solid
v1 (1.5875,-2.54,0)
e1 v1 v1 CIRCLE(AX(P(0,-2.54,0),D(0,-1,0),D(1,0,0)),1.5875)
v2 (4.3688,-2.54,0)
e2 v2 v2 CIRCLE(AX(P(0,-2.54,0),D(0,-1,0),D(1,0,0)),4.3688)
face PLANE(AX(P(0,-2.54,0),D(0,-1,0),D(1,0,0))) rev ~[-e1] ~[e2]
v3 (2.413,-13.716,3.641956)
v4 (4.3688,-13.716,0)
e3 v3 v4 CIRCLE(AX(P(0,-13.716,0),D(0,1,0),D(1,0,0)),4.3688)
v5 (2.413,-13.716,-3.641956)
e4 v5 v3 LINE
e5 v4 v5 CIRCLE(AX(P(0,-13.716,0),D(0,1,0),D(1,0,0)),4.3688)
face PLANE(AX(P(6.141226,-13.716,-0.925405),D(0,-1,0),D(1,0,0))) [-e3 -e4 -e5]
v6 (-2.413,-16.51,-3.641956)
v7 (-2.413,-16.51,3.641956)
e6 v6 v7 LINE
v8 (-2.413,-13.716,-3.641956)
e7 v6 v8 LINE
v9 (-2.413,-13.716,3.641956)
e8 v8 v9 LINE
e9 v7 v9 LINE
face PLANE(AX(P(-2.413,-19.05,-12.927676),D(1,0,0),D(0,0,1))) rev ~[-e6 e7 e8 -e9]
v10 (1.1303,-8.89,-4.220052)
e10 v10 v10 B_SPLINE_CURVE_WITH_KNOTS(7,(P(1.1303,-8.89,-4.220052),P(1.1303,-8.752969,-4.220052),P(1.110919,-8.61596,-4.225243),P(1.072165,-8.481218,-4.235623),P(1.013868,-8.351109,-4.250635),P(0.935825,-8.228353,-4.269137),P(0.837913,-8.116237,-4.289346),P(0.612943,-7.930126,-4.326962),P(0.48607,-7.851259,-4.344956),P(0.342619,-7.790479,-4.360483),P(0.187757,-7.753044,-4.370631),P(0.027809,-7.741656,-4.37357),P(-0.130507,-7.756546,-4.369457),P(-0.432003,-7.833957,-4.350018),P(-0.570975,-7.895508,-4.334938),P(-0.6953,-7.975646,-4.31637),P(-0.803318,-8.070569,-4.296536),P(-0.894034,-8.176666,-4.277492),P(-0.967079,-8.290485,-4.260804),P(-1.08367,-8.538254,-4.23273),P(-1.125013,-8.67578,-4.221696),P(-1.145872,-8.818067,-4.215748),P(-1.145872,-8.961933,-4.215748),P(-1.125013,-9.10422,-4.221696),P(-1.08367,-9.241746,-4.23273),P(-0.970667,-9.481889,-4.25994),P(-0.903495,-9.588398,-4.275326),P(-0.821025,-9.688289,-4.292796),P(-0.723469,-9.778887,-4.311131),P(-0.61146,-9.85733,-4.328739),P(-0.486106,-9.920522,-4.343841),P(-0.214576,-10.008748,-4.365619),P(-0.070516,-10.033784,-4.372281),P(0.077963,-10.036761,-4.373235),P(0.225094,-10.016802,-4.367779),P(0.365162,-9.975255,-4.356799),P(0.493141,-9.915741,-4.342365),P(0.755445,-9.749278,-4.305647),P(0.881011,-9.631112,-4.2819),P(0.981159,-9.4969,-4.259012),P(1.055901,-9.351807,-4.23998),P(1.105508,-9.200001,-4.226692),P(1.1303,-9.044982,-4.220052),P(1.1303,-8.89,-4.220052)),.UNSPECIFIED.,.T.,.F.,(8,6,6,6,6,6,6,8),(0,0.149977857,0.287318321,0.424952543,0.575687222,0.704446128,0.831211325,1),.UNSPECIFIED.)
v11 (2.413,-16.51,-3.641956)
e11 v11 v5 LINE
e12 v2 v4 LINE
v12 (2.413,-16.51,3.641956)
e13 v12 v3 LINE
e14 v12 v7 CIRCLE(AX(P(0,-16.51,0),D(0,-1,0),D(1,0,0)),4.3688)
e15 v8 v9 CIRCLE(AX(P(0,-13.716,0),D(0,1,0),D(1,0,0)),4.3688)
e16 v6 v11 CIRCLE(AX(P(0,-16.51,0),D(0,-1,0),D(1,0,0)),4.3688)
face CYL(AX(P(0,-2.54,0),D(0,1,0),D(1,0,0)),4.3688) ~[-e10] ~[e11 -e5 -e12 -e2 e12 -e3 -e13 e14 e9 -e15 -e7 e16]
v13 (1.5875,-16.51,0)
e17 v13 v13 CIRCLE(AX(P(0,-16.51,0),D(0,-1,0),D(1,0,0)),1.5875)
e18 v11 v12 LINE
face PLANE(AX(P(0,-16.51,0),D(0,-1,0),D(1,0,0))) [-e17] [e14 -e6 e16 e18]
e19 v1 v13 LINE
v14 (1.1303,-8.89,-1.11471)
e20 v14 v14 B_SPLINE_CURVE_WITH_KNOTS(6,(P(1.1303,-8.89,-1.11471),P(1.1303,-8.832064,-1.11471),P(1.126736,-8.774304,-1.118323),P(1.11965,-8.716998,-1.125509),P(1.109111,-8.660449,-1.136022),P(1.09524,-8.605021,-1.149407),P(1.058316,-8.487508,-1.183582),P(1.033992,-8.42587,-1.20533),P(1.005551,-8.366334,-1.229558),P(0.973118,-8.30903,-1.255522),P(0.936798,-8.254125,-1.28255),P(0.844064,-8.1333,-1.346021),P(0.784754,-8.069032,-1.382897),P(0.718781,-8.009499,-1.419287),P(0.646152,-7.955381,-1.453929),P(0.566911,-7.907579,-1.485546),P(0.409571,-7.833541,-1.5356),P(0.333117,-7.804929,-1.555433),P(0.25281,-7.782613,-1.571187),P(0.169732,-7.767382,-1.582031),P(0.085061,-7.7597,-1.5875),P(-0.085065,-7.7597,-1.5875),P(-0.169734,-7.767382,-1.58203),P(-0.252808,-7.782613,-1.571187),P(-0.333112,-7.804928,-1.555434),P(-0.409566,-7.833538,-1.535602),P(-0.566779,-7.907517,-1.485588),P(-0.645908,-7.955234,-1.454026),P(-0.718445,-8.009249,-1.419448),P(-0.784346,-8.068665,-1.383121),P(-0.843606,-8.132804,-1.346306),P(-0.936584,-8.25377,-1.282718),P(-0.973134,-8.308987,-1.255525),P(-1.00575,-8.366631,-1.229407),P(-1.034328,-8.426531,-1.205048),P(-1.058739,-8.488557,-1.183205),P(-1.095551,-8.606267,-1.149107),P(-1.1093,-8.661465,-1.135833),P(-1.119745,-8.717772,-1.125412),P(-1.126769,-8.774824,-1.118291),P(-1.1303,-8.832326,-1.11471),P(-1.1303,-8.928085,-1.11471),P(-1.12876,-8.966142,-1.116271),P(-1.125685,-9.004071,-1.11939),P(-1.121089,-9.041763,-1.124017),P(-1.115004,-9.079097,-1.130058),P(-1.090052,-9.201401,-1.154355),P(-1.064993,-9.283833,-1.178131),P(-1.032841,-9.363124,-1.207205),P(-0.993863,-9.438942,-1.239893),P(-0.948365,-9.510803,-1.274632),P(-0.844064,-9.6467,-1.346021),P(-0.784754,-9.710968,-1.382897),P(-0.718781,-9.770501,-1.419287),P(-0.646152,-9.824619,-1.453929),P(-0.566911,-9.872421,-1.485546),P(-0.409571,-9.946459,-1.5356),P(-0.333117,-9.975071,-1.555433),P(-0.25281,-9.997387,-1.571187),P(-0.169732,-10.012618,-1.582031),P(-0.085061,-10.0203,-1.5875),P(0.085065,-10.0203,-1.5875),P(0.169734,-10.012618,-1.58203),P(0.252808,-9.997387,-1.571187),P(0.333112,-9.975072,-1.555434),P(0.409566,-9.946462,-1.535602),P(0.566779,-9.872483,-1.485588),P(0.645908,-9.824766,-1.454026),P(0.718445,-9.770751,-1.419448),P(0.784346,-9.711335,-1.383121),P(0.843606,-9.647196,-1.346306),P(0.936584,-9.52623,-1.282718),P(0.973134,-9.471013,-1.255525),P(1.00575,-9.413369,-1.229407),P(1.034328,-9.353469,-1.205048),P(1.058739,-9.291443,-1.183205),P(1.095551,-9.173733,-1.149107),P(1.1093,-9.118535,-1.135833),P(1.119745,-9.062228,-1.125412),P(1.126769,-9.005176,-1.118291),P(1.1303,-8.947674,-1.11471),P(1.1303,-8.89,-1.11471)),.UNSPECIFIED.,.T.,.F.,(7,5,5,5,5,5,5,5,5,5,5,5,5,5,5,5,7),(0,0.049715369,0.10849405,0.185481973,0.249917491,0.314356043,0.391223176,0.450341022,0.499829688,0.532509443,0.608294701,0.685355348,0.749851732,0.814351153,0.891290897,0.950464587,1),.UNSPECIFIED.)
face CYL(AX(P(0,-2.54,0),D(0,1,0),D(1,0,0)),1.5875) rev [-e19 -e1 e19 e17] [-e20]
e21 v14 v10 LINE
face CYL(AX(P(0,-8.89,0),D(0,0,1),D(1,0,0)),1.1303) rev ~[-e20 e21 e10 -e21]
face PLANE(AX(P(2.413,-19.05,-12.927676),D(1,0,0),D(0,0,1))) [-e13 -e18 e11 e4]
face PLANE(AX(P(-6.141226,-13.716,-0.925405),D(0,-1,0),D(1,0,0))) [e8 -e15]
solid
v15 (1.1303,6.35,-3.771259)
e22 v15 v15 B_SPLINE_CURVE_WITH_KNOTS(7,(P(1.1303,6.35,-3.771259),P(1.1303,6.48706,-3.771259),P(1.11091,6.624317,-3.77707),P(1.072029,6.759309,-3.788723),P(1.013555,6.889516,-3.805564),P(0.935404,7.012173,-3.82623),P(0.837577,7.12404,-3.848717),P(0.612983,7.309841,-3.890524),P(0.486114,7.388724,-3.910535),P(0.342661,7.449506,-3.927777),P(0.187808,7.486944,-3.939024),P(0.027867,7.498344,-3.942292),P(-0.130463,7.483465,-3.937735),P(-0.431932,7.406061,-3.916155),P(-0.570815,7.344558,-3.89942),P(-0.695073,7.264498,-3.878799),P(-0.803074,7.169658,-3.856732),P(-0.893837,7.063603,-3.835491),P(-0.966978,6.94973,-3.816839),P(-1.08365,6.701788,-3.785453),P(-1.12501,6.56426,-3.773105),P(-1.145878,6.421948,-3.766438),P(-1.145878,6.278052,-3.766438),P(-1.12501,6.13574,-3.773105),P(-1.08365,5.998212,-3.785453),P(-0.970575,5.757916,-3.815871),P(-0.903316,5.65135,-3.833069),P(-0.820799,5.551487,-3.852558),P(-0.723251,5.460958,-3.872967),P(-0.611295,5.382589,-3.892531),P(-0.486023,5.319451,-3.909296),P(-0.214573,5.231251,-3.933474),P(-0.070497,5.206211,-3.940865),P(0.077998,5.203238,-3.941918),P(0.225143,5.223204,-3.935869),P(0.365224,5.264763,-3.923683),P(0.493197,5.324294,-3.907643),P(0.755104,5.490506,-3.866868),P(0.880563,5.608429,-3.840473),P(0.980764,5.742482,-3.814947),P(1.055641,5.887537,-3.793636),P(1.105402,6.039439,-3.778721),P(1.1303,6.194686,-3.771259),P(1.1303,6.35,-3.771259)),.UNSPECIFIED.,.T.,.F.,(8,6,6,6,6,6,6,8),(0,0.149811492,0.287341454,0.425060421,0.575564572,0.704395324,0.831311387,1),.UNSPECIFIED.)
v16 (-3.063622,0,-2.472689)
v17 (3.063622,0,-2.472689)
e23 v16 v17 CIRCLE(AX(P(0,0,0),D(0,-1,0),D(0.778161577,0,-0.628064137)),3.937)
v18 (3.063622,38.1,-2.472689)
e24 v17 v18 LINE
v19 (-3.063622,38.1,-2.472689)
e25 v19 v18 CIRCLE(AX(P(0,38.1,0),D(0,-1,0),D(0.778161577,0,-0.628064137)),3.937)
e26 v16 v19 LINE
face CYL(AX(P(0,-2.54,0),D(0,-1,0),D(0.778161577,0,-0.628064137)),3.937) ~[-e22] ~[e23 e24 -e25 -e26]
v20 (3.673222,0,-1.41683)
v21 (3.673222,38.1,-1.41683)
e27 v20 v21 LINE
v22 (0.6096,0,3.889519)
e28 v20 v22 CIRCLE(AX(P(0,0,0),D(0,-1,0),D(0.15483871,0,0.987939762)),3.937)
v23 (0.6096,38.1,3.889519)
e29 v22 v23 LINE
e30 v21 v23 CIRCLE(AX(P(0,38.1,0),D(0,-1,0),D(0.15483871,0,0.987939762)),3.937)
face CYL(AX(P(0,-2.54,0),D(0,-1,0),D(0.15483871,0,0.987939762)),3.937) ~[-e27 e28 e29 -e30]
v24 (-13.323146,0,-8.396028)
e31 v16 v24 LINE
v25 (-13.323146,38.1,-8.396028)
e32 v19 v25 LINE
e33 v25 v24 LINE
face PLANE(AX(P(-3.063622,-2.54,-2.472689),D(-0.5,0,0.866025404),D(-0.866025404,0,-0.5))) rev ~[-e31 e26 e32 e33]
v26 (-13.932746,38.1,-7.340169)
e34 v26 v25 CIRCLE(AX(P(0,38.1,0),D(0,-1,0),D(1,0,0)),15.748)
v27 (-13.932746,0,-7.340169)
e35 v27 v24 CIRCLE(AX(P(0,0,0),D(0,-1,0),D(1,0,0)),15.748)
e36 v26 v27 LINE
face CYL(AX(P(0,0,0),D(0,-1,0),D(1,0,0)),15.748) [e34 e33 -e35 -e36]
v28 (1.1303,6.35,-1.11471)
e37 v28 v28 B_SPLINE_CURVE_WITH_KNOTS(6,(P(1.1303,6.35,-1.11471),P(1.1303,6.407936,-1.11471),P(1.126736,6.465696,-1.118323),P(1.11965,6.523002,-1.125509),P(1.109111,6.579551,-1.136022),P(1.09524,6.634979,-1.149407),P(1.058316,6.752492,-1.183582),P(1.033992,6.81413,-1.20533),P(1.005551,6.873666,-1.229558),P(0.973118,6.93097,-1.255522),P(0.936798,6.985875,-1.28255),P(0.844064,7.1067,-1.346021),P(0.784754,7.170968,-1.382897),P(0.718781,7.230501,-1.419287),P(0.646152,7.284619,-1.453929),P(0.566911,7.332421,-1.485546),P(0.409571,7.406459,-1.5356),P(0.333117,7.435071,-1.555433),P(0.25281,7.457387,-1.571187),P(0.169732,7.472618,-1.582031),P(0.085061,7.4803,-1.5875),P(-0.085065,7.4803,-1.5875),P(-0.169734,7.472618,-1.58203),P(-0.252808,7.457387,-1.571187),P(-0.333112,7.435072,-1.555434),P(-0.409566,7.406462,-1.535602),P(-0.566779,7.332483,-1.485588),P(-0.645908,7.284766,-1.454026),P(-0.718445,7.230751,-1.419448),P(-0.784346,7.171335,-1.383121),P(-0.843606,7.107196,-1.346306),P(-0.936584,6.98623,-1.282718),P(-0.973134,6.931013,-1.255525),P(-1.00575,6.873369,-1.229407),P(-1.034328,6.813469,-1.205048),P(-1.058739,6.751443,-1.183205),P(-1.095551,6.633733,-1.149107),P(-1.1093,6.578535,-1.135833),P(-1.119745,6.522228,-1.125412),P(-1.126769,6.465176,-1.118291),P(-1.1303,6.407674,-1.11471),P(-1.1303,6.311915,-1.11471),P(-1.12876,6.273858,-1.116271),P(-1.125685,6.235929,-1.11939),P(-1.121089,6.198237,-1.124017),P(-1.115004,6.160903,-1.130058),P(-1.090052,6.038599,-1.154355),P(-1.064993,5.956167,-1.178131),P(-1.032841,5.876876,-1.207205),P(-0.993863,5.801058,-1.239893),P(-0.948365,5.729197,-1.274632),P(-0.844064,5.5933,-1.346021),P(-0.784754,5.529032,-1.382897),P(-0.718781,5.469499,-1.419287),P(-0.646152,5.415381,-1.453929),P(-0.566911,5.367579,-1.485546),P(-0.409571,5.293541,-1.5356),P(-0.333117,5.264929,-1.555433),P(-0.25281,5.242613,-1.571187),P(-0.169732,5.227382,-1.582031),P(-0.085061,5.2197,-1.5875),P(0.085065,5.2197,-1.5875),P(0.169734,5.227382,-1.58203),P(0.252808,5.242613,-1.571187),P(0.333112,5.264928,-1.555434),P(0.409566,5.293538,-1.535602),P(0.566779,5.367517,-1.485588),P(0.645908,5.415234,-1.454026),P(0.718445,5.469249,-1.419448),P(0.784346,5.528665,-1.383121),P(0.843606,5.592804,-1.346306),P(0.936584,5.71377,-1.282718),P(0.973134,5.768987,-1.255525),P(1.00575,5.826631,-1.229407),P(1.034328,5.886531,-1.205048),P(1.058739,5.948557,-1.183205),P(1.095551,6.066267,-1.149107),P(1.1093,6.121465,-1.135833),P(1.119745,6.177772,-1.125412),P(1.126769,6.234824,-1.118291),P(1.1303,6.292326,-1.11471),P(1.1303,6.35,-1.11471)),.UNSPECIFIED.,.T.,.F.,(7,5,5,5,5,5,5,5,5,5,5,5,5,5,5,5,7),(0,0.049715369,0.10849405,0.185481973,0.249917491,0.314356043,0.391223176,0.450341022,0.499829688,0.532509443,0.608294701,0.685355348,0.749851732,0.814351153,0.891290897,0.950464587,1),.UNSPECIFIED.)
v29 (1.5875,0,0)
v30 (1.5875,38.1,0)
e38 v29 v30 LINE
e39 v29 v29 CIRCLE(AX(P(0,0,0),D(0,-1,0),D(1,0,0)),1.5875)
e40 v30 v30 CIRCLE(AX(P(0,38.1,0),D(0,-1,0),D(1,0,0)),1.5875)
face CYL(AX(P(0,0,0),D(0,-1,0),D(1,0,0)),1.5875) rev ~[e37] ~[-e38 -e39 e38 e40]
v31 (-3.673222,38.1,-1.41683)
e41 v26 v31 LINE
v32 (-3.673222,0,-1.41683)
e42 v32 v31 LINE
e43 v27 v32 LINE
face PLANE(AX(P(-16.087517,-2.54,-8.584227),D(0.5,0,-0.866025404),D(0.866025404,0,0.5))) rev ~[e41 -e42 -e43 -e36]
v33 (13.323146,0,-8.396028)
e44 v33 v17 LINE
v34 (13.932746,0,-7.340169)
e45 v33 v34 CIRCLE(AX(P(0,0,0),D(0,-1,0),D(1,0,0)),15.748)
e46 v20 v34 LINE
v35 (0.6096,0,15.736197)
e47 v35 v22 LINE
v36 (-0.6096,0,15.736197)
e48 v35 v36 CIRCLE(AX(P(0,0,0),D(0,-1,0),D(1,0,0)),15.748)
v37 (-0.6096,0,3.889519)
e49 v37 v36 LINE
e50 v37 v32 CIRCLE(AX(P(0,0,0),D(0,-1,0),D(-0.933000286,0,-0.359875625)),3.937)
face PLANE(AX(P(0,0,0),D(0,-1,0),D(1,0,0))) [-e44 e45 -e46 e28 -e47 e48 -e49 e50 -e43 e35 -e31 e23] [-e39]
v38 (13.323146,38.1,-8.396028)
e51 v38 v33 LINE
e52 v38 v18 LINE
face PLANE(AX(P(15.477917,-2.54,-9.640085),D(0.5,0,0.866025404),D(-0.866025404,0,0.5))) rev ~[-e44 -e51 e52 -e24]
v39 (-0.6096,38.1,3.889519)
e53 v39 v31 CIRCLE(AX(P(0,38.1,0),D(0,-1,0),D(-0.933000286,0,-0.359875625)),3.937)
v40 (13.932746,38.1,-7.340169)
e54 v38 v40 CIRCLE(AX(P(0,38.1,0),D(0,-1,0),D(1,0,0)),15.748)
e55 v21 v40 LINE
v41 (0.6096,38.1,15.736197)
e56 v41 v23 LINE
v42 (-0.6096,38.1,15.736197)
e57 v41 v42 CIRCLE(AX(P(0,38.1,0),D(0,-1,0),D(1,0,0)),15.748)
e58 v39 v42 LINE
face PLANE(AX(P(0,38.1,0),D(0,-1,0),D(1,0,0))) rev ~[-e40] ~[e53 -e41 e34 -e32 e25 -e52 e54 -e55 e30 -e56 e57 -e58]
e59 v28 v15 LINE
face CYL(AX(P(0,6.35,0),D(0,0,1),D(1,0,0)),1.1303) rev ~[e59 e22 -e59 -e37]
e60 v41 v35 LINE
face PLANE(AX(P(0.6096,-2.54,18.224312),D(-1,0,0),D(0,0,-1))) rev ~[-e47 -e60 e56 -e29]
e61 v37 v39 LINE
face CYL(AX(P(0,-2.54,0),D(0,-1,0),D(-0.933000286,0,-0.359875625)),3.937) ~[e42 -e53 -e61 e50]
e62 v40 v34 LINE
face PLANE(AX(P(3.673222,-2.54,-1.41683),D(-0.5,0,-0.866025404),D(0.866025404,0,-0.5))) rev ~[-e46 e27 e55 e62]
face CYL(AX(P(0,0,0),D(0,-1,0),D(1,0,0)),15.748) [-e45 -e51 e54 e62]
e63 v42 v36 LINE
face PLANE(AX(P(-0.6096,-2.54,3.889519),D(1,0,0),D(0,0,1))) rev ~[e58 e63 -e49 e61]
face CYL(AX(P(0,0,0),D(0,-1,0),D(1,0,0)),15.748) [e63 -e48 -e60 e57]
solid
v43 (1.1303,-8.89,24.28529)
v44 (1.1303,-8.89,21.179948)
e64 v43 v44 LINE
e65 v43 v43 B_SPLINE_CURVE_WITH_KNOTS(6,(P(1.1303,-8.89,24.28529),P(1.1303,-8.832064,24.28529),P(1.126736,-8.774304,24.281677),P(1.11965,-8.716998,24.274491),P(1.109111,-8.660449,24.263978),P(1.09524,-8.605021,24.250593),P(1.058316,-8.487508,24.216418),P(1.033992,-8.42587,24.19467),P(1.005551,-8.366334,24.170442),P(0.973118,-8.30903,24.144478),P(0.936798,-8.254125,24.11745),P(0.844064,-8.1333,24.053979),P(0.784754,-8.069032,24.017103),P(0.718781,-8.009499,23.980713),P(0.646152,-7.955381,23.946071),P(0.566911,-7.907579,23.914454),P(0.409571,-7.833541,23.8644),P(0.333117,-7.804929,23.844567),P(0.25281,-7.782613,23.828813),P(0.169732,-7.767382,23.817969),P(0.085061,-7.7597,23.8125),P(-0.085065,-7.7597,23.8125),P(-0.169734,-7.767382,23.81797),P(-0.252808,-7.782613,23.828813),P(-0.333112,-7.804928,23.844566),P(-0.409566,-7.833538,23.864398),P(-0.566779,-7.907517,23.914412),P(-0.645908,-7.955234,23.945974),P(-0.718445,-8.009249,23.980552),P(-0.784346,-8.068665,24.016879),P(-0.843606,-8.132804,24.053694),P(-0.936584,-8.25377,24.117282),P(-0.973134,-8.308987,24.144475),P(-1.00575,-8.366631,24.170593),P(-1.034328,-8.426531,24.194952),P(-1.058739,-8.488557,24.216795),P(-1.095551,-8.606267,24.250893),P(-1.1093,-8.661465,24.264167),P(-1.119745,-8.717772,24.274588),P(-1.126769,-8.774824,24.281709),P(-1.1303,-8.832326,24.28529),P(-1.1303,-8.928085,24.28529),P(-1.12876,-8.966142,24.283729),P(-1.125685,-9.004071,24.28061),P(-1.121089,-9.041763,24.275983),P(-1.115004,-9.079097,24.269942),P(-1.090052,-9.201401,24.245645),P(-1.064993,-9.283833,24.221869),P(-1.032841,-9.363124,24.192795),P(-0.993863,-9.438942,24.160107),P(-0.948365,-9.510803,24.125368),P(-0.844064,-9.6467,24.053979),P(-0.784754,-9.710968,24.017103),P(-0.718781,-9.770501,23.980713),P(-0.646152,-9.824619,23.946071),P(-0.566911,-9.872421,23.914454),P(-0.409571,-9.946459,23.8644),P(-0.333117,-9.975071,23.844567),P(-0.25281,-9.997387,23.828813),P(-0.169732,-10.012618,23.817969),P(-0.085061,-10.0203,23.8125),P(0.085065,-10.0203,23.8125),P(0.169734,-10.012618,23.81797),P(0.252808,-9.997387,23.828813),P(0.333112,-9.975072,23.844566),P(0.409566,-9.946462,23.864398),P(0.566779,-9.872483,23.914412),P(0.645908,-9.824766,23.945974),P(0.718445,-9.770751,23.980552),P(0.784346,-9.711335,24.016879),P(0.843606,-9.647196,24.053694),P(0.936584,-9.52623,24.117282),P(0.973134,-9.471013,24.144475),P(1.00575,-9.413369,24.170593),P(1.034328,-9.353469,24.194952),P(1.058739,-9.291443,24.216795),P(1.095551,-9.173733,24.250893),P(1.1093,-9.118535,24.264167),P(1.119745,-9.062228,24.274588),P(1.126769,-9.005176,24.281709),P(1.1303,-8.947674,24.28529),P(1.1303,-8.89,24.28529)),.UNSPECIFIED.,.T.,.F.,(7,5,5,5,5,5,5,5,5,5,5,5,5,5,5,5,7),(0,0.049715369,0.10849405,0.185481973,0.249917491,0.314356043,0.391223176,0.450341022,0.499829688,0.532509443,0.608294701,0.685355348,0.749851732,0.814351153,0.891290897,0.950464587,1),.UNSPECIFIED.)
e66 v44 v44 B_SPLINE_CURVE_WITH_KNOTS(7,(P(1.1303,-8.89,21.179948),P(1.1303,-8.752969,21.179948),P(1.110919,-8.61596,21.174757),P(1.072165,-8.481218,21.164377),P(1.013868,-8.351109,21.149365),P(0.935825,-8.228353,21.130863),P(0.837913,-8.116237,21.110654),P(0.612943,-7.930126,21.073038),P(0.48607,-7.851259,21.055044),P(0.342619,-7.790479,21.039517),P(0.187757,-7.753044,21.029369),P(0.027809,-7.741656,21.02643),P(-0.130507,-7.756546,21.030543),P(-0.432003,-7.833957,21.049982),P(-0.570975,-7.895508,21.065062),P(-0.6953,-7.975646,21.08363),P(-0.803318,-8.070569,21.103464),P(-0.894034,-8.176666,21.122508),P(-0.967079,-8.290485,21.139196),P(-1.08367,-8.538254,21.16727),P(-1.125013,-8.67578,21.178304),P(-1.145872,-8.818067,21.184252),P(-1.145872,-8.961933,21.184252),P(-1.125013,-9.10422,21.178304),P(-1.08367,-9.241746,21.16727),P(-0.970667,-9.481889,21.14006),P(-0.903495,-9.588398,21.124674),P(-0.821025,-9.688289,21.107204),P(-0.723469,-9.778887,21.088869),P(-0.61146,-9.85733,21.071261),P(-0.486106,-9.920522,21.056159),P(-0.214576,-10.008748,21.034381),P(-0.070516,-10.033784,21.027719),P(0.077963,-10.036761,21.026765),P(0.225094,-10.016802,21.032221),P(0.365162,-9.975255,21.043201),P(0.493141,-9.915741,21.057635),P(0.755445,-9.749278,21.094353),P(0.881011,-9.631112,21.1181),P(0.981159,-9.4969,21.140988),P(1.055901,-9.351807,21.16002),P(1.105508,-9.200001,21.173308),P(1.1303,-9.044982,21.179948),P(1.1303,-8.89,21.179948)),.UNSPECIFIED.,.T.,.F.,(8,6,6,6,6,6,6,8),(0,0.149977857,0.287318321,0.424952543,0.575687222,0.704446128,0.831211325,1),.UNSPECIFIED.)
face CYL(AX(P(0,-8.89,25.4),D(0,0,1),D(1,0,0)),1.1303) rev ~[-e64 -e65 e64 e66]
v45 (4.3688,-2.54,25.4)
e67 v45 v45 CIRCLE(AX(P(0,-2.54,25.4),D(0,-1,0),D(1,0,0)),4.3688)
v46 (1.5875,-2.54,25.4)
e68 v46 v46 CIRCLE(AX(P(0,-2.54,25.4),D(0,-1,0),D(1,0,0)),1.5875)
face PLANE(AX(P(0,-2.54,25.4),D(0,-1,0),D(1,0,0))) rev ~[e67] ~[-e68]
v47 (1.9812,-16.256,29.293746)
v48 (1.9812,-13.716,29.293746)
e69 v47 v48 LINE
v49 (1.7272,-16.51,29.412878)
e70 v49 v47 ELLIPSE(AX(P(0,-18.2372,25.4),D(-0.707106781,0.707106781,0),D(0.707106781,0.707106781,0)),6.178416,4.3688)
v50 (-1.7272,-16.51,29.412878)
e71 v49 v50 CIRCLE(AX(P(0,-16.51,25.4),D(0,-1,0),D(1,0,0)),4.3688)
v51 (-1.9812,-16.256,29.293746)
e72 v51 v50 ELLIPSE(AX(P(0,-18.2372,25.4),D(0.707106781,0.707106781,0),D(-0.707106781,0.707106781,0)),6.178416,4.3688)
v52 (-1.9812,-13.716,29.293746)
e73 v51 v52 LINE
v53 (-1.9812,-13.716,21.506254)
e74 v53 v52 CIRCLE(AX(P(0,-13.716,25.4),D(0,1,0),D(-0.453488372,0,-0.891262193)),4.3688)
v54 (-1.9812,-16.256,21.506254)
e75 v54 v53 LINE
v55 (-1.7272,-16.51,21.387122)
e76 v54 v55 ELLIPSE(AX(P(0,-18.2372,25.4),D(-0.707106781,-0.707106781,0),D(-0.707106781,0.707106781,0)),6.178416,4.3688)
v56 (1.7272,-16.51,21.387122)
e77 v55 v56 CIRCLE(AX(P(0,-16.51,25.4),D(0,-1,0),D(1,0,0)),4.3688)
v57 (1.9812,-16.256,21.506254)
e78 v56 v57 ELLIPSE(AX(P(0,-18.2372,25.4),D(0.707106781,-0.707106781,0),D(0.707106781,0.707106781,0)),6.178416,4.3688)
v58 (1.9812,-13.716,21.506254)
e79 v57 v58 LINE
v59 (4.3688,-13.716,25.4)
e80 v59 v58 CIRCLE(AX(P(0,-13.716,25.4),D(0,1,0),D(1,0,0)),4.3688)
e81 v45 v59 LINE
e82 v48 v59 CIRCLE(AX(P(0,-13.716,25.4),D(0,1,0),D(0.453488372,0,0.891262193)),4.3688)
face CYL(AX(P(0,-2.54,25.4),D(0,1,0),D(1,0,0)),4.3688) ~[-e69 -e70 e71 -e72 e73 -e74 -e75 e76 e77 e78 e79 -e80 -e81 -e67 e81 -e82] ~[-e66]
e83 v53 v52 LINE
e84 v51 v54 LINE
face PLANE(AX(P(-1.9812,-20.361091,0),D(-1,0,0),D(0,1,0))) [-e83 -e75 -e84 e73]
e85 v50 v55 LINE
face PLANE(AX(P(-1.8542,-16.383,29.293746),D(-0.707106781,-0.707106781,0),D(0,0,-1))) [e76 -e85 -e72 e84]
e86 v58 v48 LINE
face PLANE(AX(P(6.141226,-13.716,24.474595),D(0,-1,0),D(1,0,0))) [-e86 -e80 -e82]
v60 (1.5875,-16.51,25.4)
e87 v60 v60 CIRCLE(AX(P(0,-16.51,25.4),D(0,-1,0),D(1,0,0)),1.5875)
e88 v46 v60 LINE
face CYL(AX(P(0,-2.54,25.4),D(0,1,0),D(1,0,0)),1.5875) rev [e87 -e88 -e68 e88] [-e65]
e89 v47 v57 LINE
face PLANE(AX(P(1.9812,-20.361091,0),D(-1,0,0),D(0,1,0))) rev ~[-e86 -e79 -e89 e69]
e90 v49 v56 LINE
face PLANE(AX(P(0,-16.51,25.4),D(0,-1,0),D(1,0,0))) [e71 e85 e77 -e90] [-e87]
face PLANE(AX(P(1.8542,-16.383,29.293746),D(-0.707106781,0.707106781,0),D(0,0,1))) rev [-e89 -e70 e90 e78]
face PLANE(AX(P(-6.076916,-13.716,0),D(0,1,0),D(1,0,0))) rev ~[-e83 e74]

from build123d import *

# Parameters (mm, degrees)
F0_R      = 15.748
F0_R_2    = 1.5875
F1_DEPTH  = 38.1
F4_DEPTH  = 40.641
F6_D      = 2.2606
F6_DEPTH  = 8.3970275197
F7_R      = 4.3688
F7_R_2    = 1.5875
F8_DEPTH  = 13.97
F10_W     = 7.4564515574
F10_H     = 24.0045413943
F11_DEPTH = 5.334
F13_D     = 2.2606
F13_DEPTH = 4.3698
F15_W     = 4.0957157816
F15_H     = 6.6450905805
F16_DEPTH = 38.1
F17_SIZE  = 0.254


with BuildPart() as f1:
    # F0 (on Front) → F1 (new body)
    with BuildSketch(Plane.XZ):
        Circle(F0_R)
        Circle(F0_R_2, mode=Mode.SUBTRACT)
    extrude(amount=-F1_DEPTH)

    # F3 (on offset) → F4 (cut, through all)
    with BuildSketch(Plane.XZ.offset(2.54)):
        with BuildLine():
            ThreePointArc((-3.6732221276, -1.416830336), (-3.4095420147, 1.9685), (-0.6096, 3.8895188443))
            Line((-0.6096, 3.8895188443), (-0.6096, 18.2243121161))
            ThreePointArc((-0.6096, 18.2243121161), (-15.7915443576, 9.1172523858), (-16.087517259, -8.5842269719))
            Line((-16.087517259, -8.5842269719), (-3.6732221276, -1.416830336))
        make_face()
        with BuildLine():
            Line((0.6096, 18.2243121161), (0.6096, 3.8895188443))
            ThreePointArc((0.6096, 3.8895188443), (3.4095420147, 1.9685), (3.6732221276, -1.416830336))
            Line((3.6732221276, -1.416830336), (16.087517259, -8.5842269719))
            ThreePointArc((16.087517259, -8.5842269719), (15.7915443576, 9.1172523858), (0.6096, 18.2243121161))
        make_face()
        with BuildLine():
            Line((15.477917259, -9.6400851442), (3.0636221276, -2.4726885083))
            ThreePointArc((3.0636221276, -2.4726885083), (0, -3.937), (-3.0636221276, -2.4726885083))
            Line((-3.0636221276, -2.4726885083), (-15.477917259, -9.6400851442))
            ThreePointArc((-15.477917259, -9.6400851442), (0, -18.2345047716), (15.477917259, -9.6400851442))
        make_face()
    extrude(amount=-F4_DEPTH, mode=Mode.SUBTRACT)

    # F6 (through all, one way)
    with BuildSketch(Plane.XY):
        with Locations((0, 6.35)):
            Circle(F6_D / 2)
    extrude(amount=-F6_DEPTH, mode=Mode.SUBTRACT)


with BuildPart() as f8:
    # F7 (on offset) → F8 (new body)
    with BuildSketch(Plane.XZ.offset(2.54)):
        Circle(F7_R)
        Circle(F7_R_2, mode=Mode.SUBTRACT)
    extrude(amount=F8_DEPTH)

    # F10 (on offset) → F11 (cut)
    with BuildSketch(Plane.XZ.offset(19.05)):
        with Locations((-6.1412257787, -0.9254051838)):
            Rectangle(F10_W, F10_H)
        with Locations((6.1412257787, -0.9254051838)):
            Rectangle(F10_W, F10_H)
    extrude(amount=-F11_DEPTH, mode=Mode.SUBTRACT)

    # F13 (through all, one way)
    with BuildSketch(Plane.XY):
        with Locations((0, -8.89)):
            Circle(F13_D / 2)
    extrude(amount=-F13_DEPTH, mode=Mode.SUBTRACT)


with BuildPart() as f14_1:
    # F14: copy of F8
    add(f8.part.moved(Location((0, 0, 25.4))))

    # F15 (on Top) → F16 (cut)
    with BuildSketch(Plane.XY):
        with Locations((-4.0290578908, -17.0385452903)):
            Rectangle(F15_W, F15_H)
        with Locations((4.0290578908, -17.0385452903)):
            Rectangle(F15_W, F15_H)
    extrude(amount=F16_DEPTH, mode=Mode.SUBTRACT)

    # F17
    f17_edges = [f14_1.edges().sort_by_distance(p)[0] for p in [
        (-1.9812, -16.51, 25.4),
        (1.9812, -16.51, 25.4),
    ]]
    chamfer(f17_edges, length=F17_SIZE)


solid = Compound([f1.part, f8.part, f14_1.part])
